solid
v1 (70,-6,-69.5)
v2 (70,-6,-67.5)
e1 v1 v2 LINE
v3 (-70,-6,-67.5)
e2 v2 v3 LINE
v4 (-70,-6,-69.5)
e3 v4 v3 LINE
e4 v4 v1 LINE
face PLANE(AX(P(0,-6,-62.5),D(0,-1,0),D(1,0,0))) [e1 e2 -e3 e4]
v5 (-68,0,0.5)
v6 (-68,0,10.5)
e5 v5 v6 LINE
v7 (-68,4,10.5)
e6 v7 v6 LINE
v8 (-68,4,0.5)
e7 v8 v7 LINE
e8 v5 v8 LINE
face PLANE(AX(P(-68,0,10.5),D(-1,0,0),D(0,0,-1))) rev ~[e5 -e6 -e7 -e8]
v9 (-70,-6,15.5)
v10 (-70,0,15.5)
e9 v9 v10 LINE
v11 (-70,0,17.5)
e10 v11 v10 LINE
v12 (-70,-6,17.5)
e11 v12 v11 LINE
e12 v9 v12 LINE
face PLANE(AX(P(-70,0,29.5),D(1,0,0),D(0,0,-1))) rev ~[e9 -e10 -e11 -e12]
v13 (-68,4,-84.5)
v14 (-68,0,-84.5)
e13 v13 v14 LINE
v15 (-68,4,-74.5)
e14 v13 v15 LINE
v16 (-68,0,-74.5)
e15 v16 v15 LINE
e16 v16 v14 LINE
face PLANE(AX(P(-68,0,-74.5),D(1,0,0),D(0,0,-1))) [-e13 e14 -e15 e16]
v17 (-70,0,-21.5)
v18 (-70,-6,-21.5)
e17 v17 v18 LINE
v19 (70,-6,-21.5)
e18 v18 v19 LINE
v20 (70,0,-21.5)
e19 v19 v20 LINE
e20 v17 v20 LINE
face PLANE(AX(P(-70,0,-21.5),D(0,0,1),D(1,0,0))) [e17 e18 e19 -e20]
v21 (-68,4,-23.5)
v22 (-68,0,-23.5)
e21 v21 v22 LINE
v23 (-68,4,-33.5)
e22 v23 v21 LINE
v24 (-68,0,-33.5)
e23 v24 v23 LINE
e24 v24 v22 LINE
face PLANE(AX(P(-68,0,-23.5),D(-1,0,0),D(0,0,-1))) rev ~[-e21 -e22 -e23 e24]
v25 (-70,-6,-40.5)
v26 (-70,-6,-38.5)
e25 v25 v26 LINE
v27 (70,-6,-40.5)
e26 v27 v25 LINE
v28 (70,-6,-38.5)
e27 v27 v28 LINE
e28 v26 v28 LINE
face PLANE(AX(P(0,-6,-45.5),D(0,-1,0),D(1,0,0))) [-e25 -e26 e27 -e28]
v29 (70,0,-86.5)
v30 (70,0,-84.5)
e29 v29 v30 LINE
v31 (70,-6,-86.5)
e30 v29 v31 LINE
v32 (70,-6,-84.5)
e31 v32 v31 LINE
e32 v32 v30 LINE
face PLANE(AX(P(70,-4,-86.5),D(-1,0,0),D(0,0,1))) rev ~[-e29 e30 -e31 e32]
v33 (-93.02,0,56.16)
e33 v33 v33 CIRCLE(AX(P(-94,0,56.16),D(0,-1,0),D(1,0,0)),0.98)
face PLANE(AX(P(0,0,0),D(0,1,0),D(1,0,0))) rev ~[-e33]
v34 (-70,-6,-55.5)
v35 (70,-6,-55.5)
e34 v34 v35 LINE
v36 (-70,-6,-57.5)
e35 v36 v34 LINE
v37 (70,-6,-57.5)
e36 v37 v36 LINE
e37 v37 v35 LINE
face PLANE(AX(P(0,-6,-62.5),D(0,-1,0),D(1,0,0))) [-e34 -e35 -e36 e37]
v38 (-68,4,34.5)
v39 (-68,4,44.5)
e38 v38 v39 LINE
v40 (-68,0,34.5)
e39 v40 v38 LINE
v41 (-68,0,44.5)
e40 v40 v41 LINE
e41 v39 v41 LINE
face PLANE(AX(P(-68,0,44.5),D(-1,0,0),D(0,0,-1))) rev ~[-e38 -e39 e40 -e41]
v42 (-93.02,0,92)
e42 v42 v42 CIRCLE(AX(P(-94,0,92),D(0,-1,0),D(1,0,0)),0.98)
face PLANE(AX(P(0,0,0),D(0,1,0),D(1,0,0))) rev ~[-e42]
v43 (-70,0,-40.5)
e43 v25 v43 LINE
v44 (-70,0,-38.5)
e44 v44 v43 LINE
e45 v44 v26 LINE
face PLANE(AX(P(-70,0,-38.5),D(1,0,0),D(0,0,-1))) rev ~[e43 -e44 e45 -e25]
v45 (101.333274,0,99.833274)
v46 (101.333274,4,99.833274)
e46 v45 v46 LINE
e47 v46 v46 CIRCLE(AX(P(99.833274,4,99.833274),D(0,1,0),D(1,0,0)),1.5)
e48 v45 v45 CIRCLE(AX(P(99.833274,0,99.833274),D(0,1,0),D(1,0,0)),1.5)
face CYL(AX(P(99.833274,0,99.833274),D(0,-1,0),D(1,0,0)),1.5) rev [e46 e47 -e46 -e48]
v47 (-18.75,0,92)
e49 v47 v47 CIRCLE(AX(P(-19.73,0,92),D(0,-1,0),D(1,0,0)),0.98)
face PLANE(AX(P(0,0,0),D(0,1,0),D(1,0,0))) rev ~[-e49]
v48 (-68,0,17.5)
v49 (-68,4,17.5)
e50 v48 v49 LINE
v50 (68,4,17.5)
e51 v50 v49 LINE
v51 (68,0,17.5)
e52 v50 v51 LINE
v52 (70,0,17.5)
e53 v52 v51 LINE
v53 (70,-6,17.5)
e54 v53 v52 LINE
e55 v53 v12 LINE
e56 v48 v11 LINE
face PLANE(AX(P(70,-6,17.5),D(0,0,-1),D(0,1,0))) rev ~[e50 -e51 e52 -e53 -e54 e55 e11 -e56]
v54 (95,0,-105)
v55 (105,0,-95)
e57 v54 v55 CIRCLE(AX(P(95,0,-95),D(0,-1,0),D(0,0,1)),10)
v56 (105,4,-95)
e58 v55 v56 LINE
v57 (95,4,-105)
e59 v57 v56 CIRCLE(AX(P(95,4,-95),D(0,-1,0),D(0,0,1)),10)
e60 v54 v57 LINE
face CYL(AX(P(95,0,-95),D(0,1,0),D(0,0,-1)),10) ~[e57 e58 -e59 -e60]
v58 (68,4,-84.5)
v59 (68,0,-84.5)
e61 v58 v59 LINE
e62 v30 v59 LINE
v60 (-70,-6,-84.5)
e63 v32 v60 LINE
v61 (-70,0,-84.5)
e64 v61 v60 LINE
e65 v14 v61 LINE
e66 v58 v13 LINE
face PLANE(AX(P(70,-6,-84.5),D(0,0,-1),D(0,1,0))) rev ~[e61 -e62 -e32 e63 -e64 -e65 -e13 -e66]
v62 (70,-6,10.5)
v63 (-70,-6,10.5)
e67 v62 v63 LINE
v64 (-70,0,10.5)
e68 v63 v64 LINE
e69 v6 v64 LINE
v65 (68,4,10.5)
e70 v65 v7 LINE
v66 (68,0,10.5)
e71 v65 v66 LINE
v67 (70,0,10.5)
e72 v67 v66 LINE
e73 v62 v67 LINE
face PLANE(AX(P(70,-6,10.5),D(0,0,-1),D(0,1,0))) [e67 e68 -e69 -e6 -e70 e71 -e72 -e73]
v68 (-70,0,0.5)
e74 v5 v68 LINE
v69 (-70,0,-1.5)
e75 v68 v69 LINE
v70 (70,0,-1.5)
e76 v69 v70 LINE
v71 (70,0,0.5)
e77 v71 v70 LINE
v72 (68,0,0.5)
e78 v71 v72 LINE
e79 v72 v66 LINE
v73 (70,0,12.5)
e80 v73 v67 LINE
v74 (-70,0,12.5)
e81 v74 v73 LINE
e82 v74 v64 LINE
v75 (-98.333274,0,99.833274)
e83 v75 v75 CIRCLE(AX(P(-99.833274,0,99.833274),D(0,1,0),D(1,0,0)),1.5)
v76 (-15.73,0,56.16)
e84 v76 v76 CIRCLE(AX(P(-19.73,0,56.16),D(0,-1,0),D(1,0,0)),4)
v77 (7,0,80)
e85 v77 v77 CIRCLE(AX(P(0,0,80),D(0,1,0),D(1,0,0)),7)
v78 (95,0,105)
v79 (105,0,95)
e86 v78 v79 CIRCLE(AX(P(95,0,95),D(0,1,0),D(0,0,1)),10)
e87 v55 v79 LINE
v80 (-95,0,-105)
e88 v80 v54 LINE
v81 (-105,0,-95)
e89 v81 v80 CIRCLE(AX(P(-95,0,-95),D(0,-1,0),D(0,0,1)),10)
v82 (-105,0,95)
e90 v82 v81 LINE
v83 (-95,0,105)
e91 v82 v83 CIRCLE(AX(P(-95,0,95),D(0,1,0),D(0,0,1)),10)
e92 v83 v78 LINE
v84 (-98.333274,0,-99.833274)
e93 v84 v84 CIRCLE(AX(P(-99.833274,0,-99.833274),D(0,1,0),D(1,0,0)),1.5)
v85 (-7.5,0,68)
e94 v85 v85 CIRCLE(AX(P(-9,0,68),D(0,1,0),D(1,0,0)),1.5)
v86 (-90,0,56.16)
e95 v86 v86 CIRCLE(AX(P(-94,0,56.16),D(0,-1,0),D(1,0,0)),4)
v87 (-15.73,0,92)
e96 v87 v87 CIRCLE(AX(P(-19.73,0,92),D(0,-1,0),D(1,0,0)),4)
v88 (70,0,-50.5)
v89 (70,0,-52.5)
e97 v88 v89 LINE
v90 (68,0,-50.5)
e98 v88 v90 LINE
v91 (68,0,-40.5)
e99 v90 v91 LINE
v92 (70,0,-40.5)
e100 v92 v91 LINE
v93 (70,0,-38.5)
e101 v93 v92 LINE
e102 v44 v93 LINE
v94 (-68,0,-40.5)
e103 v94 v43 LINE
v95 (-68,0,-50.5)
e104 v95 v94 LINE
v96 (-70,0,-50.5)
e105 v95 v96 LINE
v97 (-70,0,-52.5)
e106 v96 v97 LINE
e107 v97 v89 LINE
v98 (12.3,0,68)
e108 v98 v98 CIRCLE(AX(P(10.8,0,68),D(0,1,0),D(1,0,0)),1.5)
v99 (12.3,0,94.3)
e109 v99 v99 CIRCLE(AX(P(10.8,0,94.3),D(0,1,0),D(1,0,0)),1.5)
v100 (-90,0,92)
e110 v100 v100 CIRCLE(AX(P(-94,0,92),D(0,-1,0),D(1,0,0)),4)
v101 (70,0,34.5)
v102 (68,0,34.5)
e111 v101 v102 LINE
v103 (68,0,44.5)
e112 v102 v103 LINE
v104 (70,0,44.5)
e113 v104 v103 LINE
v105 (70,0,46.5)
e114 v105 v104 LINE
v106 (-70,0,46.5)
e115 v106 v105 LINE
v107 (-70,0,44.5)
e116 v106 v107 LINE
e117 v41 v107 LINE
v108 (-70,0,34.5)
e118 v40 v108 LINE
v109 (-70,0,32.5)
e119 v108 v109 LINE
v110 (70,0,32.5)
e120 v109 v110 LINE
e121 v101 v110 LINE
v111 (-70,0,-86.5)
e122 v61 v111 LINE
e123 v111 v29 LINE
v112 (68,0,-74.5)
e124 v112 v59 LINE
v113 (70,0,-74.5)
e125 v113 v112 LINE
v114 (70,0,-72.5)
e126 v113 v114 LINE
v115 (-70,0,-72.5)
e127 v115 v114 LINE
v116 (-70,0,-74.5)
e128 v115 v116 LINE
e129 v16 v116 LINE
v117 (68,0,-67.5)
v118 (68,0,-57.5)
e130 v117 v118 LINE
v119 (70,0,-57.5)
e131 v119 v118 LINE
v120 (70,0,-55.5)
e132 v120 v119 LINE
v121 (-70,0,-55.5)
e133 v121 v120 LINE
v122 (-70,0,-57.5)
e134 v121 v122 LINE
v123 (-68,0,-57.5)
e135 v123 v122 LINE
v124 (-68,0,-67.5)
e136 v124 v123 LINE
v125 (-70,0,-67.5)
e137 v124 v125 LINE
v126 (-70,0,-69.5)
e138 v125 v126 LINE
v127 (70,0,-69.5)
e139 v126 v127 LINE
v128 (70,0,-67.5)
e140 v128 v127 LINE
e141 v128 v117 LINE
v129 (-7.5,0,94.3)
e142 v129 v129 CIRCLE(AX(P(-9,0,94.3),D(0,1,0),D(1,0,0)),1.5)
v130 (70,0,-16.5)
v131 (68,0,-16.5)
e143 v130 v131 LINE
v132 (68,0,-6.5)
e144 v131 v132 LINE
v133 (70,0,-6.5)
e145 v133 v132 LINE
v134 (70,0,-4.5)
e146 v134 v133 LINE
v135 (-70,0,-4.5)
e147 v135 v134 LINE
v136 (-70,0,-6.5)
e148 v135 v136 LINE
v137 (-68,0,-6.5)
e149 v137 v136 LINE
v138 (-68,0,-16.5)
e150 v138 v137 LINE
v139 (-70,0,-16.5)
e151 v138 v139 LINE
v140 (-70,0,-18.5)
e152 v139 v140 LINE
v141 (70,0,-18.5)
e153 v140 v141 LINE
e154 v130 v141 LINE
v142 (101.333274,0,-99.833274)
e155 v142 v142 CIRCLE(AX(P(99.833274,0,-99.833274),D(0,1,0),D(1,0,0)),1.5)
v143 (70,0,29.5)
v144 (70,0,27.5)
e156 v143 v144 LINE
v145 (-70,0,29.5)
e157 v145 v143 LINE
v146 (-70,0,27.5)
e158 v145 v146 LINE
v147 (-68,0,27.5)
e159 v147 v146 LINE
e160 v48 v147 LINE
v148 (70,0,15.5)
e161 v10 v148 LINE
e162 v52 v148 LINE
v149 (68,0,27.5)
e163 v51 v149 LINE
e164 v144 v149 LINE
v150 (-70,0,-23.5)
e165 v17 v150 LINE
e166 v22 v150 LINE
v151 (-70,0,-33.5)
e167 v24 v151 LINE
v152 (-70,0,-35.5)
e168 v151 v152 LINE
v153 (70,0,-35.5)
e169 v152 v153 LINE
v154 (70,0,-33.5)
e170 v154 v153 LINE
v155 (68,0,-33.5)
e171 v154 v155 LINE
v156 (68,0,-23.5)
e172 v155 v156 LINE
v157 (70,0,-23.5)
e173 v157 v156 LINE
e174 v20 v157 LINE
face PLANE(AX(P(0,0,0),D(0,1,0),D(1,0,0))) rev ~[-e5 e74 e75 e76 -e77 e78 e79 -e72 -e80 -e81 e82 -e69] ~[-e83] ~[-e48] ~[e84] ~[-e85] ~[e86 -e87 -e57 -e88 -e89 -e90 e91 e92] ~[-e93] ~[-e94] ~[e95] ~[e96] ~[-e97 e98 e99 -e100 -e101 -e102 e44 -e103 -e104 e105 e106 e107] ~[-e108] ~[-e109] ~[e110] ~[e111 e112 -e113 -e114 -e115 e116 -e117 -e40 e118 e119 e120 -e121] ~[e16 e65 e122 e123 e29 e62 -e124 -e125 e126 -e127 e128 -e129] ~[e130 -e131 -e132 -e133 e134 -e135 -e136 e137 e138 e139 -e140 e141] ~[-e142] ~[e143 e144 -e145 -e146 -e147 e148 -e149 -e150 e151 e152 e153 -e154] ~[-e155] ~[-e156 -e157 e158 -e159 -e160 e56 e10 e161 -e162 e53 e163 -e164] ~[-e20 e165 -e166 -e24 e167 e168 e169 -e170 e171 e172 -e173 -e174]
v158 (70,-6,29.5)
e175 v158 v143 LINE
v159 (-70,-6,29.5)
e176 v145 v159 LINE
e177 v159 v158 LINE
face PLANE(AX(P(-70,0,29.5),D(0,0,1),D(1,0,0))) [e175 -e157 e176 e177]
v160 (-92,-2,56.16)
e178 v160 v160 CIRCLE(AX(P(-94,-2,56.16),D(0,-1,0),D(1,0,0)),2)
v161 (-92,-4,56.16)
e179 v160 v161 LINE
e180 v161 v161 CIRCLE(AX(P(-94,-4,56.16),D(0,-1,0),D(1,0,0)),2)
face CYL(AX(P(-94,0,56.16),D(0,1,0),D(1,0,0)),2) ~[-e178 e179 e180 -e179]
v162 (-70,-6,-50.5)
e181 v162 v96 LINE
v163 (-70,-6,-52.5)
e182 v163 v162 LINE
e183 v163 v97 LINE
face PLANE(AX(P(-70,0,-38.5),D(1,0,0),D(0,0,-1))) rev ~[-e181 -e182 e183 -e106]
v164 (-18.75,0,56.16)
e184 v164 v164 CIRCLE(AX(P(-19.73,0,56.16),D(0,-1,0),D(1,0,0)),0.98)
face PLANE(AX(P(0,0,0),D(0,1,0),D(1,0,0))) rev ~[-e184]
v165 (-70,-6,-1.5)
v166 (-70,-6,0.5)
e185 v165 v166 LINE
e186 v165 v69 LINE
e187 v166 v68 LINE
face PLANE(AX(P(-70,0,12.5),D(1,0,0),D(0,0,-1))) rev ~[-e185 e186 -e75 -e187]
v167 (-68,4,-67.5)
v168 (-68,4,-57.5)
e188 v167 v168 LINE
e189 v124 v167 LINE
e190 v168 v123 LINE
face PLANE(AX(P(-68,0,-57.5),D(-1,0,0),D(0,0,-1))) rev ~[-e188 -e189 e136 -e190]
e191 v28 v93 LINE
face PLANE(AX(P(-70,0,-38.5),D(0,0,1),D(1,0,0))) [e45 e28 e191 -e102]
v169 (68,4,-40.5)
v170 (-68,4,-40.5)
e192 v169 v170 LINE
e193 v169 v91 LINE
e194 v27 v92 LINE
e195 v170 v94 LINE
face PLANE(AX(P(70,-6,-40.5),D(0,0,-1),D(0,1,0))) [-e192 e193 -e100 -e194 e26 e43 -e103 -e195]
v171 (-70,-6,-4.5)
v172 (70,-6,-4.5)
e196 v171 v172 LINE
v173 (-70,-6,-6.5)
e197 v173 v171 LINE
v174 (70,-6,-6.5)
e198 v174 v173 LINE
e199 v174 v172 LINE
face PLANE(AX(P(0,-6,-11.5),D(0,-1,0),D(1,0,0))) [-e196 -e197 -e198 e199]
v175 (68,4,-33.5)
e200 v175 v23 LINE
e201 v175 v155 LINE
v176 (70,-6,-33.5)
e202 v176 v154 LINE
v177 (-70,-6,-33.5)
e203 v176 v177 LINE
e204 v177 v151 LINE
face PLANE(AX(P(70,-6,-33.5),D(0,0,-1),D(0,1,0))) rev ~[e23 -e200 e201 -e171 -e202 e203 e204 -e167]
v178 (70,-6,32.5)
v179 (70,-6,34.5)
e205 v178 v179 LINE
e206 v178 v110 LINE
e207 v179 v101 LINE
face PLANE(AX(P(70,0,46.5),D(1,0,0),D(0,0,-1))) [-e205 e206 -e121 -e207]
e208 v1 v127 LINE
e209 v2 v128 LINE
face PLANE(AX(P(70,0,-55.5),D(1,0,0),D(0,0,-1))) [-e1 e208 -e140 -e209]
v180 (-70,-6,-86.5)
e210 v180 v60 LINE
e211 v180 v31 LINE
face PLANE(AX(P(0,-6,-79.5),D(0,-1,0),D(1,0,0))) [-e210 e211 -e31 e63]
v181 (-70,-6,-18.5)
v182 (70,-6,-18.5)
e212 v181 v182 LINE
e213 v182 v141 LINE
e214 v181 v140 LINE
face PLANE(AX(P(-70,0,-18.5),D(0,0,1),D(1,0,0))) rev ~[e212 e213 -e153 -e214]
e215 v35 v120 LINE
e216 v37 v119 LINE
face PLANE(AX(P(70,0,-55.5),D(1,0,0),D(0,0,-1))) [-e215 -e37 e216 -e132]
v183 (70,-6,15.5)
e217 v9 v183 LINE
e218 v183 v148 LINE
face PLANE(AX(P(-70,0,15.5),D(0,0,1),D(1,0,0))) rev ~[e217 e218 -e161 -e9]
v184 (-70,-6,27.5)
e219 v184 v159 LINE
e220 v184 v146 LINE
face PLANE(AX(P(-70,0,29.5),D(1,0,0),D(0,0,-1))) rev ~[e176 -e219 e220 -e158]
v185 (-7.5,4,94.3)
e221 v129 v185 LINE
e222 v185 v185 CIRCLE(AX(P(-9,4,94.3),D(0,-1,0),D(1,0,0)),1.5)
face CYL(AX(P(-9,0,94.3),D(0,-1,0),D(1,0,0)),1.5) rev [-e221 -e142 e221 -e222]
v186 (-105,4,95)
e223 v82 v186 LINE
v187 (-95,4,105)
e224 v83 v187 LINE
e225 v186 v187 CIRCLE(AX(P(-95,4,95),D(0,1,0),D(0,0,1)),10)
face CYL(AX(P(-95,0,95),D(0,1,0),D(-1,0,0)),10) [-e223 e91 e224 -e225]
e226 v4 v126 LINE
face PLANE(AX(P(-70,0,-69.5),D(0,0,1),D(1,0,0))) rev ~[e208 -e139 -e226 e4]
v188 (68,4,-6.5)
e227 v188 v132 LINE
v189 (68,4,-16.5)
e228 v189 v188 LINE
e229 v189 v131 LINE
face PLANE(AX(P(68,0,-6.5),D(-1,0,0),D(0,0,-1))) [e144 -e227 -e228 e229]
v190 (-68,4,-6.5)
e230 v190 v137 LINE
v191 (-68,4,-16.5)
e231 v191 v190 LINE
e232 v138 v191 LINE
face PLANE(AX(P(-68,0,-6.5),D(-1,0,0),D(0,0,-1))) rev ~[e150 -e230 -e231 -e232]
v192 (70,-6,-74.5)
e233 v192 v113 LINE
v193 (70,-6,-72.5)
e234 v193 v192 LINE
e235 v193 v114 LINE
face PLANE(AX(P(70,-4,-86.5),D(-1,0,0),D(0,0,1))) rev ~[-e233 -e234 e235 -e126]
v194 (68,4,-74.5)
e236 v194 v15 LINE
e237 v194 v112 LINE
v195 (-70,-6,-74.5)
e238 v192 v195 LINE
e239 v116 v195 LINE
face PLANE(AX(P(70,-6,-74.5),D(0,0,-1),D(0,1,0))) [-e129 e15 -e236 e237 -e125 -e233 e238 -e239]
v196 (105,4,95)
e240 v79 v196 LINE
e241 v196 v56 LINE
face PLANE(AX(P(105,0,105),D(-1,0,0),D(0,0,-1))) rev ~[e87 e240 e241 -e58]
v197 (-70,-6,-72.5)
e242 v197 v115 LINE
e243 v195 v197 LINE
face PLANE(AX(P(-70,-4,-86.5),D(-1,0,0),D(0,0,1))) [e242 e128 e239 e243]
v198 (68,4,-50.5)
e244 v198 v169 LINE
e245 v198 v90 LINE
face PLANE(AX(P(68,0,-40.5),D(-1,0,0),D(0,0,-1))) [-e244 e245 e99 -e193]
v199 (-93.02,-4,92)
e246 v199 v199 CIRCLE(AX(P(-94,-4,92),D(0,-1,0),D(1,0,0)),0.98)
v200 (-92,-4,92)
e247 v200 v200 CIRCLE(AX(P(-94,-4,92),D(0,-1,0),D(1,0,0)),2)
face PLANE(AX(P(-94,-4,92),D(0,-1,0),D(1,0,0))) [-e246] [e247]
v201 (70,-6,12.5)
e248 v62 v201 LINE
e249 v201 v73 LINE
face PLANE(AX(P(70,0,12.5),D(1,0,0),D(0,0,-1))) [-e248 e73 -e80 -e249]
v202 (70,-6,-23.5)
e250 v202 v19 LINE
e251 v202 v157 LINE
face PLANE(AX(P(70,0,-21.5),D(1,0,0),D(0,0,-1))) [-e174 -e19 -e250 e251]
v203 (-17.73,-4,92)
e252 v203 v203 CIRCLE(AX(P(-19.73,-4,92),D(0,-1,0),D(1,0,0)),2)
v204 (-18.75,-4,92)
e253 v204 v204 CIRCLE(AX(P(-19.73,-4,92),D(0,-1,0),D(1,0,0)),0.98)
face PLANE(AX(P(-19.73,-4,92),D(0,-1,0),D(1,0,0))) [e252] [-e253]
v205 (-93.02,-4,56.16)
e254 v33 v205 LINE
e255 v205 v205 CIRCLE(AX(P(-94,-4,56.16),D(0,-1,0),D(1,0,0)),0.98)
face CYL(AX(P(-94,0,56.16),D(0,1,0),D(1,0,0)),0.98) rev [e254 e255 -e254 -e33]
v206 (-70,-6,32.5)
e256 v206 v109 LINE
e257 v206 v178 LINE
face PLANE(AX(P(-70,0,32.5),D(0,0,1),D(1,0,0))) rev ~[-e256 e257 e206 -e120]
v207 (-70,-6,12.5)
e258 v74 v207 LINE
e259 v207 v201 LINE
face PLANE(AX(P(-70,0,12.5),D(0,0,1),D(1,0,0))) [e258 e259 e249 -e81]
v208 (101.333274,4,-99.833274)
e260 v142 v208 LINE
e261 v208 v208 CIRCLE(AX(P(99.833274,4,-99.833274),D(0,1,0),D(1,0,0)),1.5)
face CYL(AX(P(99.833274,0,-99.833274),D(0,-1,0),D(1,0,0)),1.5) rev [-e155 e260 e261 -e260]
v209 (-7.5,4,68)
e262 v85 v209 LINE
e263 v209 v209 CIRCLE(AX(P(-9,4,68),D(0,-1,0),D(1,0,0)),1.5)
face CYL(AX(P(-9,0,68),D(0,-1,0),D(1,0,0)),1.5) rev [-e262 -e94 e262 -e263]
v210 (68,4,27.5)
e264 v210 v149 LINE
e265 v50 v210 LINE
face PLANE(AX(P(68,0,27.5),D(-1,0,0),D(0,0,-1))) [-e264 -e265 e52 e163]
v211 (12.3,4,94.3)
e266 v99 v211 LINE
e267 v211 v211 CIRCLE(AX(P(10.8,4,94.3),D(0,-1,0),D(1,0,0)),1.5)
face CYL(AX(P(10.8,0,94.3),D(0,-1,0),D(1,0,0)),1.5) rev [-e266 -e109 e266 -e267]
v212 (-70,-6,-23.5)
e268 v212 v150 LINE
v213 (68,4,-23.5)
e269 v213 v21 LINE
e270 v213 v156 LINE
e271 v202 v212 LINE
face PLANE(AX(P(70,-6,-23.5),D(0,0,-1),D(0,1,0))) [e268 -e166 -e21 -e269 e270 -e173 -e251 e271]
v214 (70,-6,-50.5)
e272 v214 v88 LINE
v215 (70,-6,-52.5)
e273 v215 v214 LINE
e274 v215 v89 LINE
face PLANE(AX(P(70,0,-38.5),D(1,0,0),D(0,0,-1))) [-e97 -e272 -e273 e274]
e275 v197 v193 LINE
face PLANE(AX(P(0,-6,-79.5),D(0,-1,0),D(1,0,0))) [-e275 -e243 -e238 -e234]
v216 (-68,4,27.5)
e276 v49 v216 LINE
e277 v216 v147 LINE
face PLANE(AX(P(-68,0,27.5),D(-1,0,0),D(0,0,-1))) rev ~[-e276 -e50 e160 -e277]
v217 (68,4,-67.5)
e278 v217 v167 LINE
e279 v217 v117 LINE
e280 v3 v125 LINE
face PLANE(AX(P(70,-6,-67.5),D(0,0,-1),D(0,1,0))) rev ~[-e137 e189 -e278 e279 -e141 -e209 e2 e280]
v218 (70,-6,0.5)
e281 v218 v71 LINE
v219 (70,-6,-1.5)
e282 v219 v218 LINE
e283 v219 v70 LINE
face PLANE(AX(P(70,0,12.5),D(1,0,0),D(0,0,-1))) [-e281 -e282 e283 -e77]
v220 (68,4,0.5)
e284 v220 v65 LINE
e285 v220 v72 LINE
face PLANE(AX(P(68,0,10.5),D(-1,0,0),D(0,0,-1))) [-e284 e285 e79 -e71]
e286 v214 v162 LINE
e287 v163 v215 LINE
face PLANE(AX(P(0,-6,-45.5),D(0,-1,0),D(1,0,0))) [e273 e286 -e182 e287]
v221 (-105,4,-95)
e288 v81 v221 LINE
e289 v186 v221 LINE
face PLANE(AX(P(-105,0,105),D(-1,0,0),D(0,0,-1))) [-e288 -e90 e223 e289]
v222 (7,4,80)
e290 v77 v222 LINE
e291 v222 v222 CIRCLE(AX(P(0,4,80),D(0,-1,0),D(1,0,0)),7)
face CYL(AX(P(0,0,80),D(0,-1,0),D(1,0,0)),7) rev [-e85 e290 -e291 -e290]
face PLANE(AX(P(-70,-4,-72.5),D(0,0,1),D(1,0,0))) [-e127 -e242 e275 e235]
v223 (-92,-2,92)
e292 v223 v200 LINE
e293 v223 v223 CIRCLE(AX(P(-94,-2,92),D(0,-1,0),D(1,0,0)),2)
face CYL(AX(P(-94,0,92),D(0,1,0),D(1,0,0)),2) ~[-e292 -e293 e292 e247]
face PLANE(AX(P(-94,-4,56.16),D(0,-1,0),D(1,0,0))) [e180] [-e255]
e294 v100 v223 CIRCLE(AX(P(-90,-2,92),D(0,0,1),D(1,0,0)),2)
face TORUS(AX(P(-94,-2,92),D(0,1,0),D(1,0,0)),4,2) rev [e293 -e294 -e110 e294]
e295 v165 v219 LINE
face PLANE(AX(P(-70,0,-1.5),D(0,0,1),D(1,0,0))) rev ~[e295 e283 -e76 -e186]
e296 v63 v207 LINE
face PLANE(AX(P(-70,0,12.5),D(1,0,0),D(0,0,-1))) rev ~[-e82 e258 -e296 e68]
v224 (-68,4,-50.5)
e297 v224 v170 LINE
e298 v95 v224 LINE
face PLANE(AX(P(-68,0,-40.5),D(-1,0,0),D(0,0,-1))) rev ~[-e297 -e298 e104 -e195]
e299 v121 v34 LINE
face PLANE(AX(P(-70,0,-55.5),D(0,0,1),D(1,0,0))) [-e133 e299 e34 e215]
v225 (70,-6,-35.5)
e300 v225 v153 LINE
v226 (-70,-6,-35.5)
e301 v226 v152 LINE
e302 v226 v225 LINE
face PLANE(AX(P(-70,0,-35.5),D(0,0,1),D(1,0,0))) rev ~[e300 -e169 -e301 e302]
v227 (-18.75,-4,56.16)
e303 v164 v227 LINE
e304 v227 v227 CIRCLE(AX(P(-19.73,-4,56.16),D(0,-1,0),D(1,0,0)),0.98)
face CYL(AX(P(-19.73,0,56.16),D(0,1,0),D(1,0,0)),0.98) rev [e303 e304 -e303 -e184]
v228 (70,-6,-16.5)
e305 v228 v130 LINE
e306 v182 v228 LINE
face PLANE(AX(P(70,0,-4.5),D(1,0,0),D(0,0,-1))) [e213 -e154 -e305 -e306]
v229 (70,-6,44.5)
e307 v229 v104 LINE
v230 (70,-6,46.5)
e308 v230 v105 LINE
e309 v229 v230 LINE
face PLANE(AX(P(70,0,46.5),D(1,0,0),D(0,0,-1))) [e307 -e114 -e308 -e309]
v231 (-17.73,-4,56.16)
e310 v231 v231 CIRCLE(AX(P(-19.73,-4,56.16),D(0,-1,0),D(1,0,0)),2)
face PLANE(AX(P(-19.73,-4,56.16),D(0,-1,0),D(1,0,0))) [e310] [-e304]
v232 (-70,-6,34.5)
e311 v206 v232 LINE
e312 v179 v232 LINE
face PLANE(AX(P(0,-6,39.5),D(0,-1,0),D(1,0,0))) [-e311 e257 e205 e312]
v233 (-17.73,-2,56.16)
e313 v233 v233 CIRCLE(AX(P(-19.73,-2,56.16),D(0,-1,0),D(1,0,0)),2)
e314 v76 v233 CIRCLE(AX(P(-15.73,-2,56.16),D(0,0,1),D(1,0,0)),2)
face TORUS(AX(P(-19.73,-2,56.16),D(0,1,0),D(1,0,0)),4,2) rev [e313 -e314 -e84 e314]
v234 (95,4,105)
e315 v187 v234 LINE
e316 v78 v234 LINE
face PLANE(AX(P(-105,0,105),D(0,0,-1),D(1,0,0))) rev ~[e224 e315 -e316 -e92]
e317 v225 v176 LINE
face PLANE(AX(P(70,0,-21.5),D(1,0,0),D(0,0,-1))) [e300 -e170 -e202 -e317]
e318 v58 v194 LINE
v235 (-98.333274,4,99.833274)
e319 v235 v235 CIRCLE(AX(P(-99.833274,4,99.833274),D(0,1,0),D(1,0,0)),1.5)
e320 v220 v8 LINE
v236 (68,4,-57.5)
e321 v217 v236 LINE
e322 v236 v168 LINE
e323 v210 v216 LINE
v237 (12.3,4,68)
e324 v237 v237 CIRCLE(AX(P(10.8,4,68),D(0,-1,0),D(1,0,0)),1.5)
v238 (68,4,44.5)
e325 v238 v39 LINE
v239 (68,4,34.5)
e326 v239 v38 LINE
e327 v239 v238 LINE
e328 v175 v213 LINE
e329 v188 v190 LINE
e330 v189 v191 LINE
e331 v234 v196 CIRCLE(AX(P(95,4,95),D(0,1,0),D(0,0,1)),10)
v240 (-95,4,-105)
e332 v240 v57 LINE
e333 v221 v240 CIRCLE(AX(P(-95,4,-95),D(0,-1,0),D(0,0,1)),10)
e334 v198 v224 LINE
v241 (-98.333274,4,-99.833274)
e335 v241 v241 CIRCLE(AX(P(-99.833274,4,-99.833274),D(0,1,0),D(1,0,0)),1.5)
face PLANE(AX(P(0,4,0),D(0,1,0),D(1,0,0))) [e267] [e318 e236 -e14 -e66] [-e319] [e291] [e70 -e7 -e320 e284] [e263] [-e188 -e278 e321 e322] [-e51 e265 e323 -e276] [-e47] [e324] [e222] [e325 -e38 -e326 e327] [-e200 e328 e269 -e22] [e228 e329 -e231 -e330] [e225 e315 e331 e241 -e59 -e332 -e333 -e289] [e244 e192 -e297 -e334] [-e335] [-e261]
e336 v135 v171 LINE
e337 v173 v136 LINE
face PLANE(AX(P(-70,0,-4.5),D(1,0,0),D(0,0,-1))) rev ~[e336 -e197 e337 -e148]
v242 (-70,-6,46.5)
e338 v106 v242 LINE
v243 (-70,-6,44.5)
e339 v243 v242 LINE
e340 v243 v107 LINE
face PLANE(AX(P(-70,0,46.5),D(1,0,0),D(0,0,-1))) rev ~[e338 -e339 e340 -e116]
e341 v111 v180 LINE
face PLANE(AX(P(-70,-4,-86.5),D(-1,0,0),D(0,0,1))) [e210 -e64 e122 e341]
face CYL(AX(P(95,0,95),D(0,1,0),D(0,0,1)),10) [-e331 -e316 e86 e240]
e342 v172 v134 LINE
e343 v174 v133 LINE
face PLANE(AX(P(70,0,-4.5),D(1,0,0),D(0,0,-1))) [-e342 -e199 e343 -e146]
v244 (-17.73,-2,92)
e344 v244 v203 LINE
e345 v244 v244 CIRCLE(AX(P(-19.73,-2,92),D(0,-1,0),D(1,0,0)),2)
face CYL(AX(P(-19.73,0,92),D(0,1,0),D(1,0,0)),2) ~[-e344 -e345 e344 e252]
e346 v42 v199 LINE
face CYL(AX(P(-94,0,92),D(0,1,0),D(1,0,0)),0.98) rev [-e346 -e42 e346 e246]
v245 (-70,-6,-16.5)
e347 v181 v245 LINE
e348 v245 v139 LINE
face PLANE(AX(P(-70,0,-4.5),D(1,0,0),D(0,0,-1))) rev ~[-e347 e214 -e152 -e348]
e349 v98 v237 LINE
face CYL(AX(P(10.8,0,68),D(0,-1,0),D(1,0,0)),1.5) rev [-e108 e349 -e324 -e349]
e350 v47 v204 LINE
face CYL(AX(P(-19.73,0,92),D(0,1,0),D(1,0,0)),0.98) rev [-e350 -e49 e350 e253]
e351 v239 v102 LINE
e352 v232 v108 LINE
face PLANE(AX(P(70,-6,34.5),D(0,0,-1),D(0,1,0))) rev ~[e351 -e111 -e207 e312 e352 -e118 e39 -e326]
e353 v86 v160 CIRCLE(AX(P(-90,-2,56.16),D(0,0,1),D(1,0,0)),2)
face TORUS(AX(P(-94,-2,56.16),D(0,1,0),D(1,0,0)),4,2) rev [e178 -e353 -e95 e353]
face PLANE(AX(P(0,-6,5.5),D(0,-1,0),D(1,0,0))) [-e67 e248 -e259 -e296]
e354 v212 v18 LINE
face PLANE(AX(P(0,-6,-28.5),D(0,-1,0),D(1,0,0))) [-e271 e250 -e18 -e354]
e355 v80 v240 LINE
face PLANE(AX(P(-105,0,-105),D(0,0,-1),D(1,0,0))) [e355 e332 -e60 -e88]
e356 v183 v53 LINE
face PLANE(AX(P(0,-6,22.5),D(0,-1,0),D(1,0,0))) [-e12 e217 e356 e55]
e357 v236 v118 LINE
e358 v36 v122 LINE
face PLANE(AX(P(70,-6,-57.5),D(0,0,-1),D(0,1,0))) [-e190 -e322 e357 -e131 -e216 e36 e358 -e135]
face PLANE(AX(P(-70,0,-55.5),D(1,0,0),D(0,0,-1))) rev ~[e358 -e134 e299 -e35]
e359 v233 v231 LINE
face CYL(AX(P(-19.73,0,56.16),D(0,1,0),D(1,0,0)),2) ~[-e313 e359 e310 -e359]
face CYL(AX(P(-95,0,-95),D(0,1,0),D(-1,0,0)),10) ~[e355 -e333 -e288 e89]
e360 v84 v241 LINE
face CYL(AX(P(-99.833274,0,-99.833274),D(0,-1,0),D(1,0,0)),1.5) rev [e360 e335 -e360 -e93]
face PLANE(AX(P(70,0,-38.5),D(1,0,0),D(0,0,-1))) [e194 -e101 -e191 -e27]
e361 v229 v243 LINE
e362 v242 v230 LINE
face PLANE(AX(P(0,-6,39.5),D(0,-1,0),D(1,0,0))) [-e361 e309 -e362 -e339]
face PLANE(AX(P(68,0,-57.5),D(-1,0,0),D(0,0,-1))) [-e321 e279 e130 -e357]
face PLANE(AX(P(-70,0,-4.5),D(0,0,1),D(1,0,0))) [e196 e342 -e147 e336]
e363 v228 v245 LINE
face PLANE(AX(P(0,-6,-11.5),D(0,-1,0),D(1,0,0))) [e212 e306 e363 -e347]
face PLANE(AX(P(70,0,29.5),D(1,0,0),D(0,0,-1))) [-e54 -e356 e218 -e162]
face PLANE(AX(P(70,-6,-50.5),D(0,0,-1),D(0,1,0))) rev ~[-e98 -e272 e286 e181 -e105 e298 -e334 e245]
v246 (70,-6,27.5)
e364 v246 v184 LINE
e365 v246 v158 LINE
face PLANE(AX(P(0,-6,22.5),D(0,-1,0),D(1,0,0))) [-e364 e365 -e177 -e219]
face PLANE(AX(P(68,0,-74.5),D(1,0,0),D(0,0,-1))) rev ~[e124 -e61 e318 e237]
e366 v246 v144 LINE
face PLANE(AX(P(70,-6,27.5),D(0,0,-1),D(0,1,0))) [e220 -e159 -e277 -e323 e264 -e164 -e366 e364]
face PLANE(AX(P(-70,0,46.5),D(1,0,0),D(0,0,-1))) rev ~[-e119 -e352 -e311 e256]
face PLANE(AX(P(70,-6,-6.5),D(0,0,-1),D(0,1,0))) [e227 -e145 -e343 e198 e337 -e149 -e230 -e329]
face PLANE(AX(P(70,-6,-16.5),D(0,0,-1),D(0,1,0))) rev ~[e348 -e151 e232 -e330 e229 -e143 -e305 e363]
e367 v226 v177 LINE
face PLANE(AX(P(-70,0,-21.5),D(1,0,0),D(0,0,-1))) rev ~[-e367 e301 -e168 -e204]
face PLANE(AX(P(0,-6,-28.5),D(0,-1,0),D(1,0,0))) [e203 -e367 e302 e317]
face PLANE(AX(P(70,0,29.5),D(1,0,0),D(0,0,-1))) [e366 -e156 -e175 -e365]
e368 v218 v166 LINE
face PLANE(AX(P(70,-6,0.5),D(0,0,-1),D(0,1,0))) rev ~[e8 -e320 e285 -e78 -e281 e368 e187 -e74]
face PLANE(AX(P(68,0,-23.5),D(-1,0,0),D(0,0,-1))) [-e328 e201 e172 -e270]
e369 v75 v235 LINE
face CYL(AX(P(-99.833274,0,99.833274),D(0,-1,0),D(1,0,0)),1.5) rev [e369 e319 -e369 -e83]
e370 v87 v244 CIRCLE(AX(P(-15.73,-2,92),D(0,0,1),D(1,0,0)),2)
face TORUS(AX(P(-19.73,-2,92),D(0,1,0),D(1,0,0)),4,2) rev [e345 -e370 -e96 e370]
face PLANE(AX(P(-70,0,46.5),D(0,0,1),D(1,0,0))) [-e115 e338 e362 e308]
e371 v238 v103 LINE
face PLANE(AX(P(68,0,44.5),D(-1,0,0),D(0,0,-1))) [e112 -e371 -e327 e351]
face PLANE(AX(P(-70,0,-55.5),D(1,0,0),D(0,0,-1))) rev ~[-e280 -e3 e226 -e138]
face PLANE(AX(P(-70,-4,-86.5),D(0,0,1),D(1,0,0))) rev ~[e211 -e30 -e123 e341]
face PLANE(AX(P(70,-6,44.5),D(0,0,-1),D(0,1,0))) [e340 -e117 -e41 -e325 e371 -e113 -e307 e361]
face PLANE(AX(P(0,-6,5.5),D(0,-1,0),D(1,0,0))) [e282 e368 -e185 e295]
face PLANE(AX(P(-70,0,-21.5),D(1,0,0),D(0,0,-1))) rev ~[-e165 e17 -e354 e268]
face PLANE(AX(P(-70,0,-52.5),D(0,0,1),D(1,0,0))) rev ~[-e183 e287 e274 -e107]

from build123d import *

# Parameters (mm, degrees)
SKETCH1_W               = 210
SKETCH1_H               = 210
MAINEXTRUDE_DEPTH       = 4
SKETCH1_6_R             = 1.5
SCREWHOLES_DEPTH        = 4
ROUNDEDCORNERS_R        = 10
SKETCH3_R               = 7
SKETCH3_R_2             = 1.5
SKETCH3_W               = 136
SKETCH3_H               = 10
TRENCH_DEPTH            = 10
SKETCH4_W               = 140
SKETCH4_H               = 14
SKETCH4_W_2             = 136
SKETCH4_H_2             = 10
TRENCH_WALLS_DEPTH      = 4
SKETCH5_W               = 140
SKETCH5_H               = 14
TRENCH_BOTTOM_DEPTH     = 2
SKETCH7_W               = 10
SKETCH7_H               = 6
WIRE_OPENING_DEPTH      = 36
WIRE_OPENING_DEPTH_BACK = 176
SKETCH9_R               = 2
SKETCH9_R_2             = 0.98
PCB_HOLES_DEPTH         = 4
PCB_ROUNDS_R            = 2


with BuildPart() as part:
    # Sketch1 → MainExtrude (new body)
    with BuildSketch(Plane(origin=(0, 0, 0), x_dir=(1, 0, 0), z_dir=(0, 1, 0))):
        Rectangle(SKETCH1_W, SKETCH1_H)
    extrude(amount=MAINEXTRUDE_DEPTH)

    # Sketch1_6 → ScrewHoles (cut)
    with BuildSketch(Plane(origin=(0, 0, 0), x_dir=(1, 0, 0), z_dir=(0, 1, 0))):
        with Locations((-99.833273811, 99.833273811)):
            Circle(SKETCH1_6_R)
        with Locations((-99.833273811, -99.833273811)):
            Circle(SKETCH1_6_R)
        with Locations((99.833273811, -99.833273811)):
            Circle(SKETCH1_6_R)
        with Locations((99.833273811, 99.833273811)):
            Circle(SKETCH1_6_R)
    extrude(amount=SCREWHOLES_DEPTH, mode=Mode.SUBTRACT)

    # RoundedCorners
    roundedcorners_edges = [part.edges().sort_by_distance(p)[0] for p in [
        (-105, 2, -105),
        (-105, 2, 105),
        (105, 2, 105),
        (105, 2, -105),
    ]]
    fillet(roundedcorners_edges, radius=ROUNDEDCORNERS_R)

    # Sketch3 → Trench (cut)
    with BuildSketch(Plane(origin=(0, 0, 0), x_dir=(1, 0, 0), z_dir=(0, 1, 0))):
        with Locations((0, -80)):
            Circle(SKETCH3_R)
        with Locations((-9, -68)):
            Circle(SKETCH3_R_2)
        with Locations((-9, -94.3)):
            Circle(SKETCH3_R_2)
        with Locations((10.8, -94.3)):
            Circle(SKETCH3_R_2)
        with Locations((10.8, -68)):
            Circle(SKETCH3_R_2)
        with Locations((0, 79.5)):
            Rectangle(SKETCH3_W, SKETCH3_H)
        with Locations((0, 62.5)):
            Rectangle(SKETCH3_W, SKETCH3_H)
        with Locations((0, 45.5)):
            Rectangle(SKETCH3_W, SKETCH3_H)
        with Locations((0, 28.5)):
            Rectangle(SKETCH3_W, SKETCH3_H)
        with Locations((0, 11.5)):
            Rectangle(SKETCH3_W, SKETCH3_H)
        with Locations((0, -5.5)):
            Rectangle(SKETCH3_W, SKETCH3_H)
        with Locations((0, -22.5)):
            Rectangle(SKETCH3_W, SKETCH3_H)
        with Locations((0, -39.5)):
            Rectangle(SKETCH3_W, SKETCH3_H)
    extrude(amount=TRENCH_DEPTH, mode=Mode.SUBTRACT)

    # Sketch4 → Trench Walls (add)
    with BuildSketch(Plane(origin=(0, 0, 0), x_dir=(1, 0, 0), z_dir=(0, 1, 0))):
        with Locations((0, 79.5)):
            Rectangle(SKETCH4_W, SKETCH4_H)
        with Locations((0, 79.5)):
            Rectangle(SKETCH4_W_2, SKETCH4_H_2, mode=Mode.SUBTRACT)
        with Locations((0, 62.5)):
            Rectangle(SKETCH4_W, SKETCH4_H)
        with Locations((0, 62.5)):
            Rectangle(SKETCH4_W_2, SKETCH4_H_2, mode=Mode.SUBTRACT)
        with Locations((0, 45.5)):
            Rectangle(SKETCH4_W, SKETCH4_H)
        with Locations((0, 45.5)):
            Rectangle(SKETCH4_W_2, SKETCH4_H_2, mode=Mode.SUBTRACT)
        with Locations((0, 28.5)):
            Rectangle(SKETCH4_W, SKETCH4_H)
        with Locations((0, 28.5)):
            Rectangle(SKETCH4_W_2, SKETCH4_H_2, mode=Mode.SUBTRACT)
        with Locations((0, 11.5)):
            Rectangle(SKETCH4_W, SKETCH4_H)
        with Locations((0, 11.5)):
            Rectangle(SKETCH4_W_2, SKETCH4_H_2, mode=Mode.SUBTRACT)
        with Locations((0, -5.5)):
            Rectangle(SKETCH4_W, SKETCH4_H)
        with Locations((0, -5.5)):
            Rectangle(SKETCH4_W_2, SKETCH4_H_2, mode=Mode.SUBTRACT)
        with Locations((0, -22.5)):
            Rectangle(SKETCH4_W, SKETCH4_H)
        with Locations((0, -22.5)):
            Rectangle(SKETCH4_W_2, SKETCH4_H_2, mode=Mode.SUBTRACT)
        with Locations((0, -39.5)):
            Rectangle(SKETCH4_W, SKETCH4_H)
        with Locations((0, -39.5)):
            Rectangle(SKETCH4_W_2, SKETCH4_H_2, mode=Mode.SUBTRACT)
    extrude(amount=-TRENCH_WALLS_DEPTH)

    # Sketch5 → Trench Bottom (add)
    with BuildSketch(Plane.XZ.offset(4)):
        with Locations((0, -79.5)):
            Rectangle(SKETCH5_W, SKETCH5_H)
        with Locations((0, -62.5)):
            Rectangle(SKETCH5_W, SKETCH5_H)
        with Locations((0, -45.5)):
            Rectangle(SKETCH5_W, SKETCH5_H)
        with Locations((0, -28.5)):
            Rectangle(SKETCH5_W, SKETCH5_H)
        with Locations((0, -11.5)):
            Rectangle(SKETCH5_W, SKETCH5_H)
        with Locations((0, 5.5)):
            Rectangle(SKETCH5_W, SKETCH5_H)
        with Locations((0, 22.5)):
            Rectangle(SKETCH5_W, SKETCH5_H)
        with Locations((0, 39.5)):
            Rectangle(SKETCH5_W, SKETCH5_H)
    extrude(amount=TRENCH_BOTTOM_DEPTH)

    # Sketch7 → Wire Opening (cut, two sides)
    with BuildSketch(Plane(origin=(70, 0, 0), x_dir=(0, 0, -1), z_dir=(1, 0, 0))) as wire_opening_sk:
        with Locations((-39.5, -3)):
            Rectangle(SKETCH7_W, SKETCH7_H)
        with Locations((-22.5, -3)):
            Rectangle(SKETCH7_W, SKETCH7_H)
        with Locations((-5.5, -3)):
            Rectangle(SKETCH7_W, SKETCH7_H)
        with Locations((11.5, -3)):
            Rectangle(SKETCH7_W, SKETCH7_H)
        with Locations((28.5, -3)):
            Rectangle(SKETCH7_W, SKETCH7_H)
        with Locations((45.5, -3)):
            Rectangle(SKETCH7_W, SKETCH7_H)
        with Locations((62.5, -3)):
            Rectangle(SKETCH7_W, SKETCH7_H)
        with Locations((79.5, -3)):
            Rectangle(SKETCH7_W, SKETCH7_H)
    extrude(amount=WIRE_OPENING_DEPTH, mode=Mode.SUBTRACT)
    extrude(wire_opening_sk.sketch, amount=-WIRE_OPENING_DEPTH_BACK, mode=Mode.SUBTRACT)

    # Sketch9 → PCB Holes (add)
    with BuildSketch(Plane.XZ):
        with Locations((-94, 92)):
            Circle(SKETCH9_R)
        with Locations((-94, 92)):
            Circle(SKETCH9_R_2, mode=Mode.SUBTRACT)
        with Locations((-19.73, 92)):
            Circle(SKETCH9_R)
        with Locations((-19.73, 92)):
            Circle(SKETCH9_R_2, mode=Mode.SUBTRACT)
        with Locations((-94, 56.16)):
            Circle(SKETCH9_R)
        with Locations((-94, 56.16)):
            Circle(SKETCH9_R_2, mode=Mode.SUBTRACT)
        with Locations((-19.73, 56.16)):
            Circle(SKETCH9_R)
        with Locations((-19.73, 56.16)):
            Circle(SKETCH9_R_2, mode=Mode.SUBTRACT)
    extrude(amount=PCB_HOLES_DEPTH)

    # PCB Rounds
    pcb_rounds_edges = [part.edges().sort_by_distance(p)[0] for p in [
        (-96, 0, 92),
        (-21.73, 0, 56.16),
        (-96, 0, 56.16),
        (-21.73, 0, 92),
    ]]
    fillet(pcb_rounds_edges, radius=PCB_ROUNDS_R)


solid = part.part
